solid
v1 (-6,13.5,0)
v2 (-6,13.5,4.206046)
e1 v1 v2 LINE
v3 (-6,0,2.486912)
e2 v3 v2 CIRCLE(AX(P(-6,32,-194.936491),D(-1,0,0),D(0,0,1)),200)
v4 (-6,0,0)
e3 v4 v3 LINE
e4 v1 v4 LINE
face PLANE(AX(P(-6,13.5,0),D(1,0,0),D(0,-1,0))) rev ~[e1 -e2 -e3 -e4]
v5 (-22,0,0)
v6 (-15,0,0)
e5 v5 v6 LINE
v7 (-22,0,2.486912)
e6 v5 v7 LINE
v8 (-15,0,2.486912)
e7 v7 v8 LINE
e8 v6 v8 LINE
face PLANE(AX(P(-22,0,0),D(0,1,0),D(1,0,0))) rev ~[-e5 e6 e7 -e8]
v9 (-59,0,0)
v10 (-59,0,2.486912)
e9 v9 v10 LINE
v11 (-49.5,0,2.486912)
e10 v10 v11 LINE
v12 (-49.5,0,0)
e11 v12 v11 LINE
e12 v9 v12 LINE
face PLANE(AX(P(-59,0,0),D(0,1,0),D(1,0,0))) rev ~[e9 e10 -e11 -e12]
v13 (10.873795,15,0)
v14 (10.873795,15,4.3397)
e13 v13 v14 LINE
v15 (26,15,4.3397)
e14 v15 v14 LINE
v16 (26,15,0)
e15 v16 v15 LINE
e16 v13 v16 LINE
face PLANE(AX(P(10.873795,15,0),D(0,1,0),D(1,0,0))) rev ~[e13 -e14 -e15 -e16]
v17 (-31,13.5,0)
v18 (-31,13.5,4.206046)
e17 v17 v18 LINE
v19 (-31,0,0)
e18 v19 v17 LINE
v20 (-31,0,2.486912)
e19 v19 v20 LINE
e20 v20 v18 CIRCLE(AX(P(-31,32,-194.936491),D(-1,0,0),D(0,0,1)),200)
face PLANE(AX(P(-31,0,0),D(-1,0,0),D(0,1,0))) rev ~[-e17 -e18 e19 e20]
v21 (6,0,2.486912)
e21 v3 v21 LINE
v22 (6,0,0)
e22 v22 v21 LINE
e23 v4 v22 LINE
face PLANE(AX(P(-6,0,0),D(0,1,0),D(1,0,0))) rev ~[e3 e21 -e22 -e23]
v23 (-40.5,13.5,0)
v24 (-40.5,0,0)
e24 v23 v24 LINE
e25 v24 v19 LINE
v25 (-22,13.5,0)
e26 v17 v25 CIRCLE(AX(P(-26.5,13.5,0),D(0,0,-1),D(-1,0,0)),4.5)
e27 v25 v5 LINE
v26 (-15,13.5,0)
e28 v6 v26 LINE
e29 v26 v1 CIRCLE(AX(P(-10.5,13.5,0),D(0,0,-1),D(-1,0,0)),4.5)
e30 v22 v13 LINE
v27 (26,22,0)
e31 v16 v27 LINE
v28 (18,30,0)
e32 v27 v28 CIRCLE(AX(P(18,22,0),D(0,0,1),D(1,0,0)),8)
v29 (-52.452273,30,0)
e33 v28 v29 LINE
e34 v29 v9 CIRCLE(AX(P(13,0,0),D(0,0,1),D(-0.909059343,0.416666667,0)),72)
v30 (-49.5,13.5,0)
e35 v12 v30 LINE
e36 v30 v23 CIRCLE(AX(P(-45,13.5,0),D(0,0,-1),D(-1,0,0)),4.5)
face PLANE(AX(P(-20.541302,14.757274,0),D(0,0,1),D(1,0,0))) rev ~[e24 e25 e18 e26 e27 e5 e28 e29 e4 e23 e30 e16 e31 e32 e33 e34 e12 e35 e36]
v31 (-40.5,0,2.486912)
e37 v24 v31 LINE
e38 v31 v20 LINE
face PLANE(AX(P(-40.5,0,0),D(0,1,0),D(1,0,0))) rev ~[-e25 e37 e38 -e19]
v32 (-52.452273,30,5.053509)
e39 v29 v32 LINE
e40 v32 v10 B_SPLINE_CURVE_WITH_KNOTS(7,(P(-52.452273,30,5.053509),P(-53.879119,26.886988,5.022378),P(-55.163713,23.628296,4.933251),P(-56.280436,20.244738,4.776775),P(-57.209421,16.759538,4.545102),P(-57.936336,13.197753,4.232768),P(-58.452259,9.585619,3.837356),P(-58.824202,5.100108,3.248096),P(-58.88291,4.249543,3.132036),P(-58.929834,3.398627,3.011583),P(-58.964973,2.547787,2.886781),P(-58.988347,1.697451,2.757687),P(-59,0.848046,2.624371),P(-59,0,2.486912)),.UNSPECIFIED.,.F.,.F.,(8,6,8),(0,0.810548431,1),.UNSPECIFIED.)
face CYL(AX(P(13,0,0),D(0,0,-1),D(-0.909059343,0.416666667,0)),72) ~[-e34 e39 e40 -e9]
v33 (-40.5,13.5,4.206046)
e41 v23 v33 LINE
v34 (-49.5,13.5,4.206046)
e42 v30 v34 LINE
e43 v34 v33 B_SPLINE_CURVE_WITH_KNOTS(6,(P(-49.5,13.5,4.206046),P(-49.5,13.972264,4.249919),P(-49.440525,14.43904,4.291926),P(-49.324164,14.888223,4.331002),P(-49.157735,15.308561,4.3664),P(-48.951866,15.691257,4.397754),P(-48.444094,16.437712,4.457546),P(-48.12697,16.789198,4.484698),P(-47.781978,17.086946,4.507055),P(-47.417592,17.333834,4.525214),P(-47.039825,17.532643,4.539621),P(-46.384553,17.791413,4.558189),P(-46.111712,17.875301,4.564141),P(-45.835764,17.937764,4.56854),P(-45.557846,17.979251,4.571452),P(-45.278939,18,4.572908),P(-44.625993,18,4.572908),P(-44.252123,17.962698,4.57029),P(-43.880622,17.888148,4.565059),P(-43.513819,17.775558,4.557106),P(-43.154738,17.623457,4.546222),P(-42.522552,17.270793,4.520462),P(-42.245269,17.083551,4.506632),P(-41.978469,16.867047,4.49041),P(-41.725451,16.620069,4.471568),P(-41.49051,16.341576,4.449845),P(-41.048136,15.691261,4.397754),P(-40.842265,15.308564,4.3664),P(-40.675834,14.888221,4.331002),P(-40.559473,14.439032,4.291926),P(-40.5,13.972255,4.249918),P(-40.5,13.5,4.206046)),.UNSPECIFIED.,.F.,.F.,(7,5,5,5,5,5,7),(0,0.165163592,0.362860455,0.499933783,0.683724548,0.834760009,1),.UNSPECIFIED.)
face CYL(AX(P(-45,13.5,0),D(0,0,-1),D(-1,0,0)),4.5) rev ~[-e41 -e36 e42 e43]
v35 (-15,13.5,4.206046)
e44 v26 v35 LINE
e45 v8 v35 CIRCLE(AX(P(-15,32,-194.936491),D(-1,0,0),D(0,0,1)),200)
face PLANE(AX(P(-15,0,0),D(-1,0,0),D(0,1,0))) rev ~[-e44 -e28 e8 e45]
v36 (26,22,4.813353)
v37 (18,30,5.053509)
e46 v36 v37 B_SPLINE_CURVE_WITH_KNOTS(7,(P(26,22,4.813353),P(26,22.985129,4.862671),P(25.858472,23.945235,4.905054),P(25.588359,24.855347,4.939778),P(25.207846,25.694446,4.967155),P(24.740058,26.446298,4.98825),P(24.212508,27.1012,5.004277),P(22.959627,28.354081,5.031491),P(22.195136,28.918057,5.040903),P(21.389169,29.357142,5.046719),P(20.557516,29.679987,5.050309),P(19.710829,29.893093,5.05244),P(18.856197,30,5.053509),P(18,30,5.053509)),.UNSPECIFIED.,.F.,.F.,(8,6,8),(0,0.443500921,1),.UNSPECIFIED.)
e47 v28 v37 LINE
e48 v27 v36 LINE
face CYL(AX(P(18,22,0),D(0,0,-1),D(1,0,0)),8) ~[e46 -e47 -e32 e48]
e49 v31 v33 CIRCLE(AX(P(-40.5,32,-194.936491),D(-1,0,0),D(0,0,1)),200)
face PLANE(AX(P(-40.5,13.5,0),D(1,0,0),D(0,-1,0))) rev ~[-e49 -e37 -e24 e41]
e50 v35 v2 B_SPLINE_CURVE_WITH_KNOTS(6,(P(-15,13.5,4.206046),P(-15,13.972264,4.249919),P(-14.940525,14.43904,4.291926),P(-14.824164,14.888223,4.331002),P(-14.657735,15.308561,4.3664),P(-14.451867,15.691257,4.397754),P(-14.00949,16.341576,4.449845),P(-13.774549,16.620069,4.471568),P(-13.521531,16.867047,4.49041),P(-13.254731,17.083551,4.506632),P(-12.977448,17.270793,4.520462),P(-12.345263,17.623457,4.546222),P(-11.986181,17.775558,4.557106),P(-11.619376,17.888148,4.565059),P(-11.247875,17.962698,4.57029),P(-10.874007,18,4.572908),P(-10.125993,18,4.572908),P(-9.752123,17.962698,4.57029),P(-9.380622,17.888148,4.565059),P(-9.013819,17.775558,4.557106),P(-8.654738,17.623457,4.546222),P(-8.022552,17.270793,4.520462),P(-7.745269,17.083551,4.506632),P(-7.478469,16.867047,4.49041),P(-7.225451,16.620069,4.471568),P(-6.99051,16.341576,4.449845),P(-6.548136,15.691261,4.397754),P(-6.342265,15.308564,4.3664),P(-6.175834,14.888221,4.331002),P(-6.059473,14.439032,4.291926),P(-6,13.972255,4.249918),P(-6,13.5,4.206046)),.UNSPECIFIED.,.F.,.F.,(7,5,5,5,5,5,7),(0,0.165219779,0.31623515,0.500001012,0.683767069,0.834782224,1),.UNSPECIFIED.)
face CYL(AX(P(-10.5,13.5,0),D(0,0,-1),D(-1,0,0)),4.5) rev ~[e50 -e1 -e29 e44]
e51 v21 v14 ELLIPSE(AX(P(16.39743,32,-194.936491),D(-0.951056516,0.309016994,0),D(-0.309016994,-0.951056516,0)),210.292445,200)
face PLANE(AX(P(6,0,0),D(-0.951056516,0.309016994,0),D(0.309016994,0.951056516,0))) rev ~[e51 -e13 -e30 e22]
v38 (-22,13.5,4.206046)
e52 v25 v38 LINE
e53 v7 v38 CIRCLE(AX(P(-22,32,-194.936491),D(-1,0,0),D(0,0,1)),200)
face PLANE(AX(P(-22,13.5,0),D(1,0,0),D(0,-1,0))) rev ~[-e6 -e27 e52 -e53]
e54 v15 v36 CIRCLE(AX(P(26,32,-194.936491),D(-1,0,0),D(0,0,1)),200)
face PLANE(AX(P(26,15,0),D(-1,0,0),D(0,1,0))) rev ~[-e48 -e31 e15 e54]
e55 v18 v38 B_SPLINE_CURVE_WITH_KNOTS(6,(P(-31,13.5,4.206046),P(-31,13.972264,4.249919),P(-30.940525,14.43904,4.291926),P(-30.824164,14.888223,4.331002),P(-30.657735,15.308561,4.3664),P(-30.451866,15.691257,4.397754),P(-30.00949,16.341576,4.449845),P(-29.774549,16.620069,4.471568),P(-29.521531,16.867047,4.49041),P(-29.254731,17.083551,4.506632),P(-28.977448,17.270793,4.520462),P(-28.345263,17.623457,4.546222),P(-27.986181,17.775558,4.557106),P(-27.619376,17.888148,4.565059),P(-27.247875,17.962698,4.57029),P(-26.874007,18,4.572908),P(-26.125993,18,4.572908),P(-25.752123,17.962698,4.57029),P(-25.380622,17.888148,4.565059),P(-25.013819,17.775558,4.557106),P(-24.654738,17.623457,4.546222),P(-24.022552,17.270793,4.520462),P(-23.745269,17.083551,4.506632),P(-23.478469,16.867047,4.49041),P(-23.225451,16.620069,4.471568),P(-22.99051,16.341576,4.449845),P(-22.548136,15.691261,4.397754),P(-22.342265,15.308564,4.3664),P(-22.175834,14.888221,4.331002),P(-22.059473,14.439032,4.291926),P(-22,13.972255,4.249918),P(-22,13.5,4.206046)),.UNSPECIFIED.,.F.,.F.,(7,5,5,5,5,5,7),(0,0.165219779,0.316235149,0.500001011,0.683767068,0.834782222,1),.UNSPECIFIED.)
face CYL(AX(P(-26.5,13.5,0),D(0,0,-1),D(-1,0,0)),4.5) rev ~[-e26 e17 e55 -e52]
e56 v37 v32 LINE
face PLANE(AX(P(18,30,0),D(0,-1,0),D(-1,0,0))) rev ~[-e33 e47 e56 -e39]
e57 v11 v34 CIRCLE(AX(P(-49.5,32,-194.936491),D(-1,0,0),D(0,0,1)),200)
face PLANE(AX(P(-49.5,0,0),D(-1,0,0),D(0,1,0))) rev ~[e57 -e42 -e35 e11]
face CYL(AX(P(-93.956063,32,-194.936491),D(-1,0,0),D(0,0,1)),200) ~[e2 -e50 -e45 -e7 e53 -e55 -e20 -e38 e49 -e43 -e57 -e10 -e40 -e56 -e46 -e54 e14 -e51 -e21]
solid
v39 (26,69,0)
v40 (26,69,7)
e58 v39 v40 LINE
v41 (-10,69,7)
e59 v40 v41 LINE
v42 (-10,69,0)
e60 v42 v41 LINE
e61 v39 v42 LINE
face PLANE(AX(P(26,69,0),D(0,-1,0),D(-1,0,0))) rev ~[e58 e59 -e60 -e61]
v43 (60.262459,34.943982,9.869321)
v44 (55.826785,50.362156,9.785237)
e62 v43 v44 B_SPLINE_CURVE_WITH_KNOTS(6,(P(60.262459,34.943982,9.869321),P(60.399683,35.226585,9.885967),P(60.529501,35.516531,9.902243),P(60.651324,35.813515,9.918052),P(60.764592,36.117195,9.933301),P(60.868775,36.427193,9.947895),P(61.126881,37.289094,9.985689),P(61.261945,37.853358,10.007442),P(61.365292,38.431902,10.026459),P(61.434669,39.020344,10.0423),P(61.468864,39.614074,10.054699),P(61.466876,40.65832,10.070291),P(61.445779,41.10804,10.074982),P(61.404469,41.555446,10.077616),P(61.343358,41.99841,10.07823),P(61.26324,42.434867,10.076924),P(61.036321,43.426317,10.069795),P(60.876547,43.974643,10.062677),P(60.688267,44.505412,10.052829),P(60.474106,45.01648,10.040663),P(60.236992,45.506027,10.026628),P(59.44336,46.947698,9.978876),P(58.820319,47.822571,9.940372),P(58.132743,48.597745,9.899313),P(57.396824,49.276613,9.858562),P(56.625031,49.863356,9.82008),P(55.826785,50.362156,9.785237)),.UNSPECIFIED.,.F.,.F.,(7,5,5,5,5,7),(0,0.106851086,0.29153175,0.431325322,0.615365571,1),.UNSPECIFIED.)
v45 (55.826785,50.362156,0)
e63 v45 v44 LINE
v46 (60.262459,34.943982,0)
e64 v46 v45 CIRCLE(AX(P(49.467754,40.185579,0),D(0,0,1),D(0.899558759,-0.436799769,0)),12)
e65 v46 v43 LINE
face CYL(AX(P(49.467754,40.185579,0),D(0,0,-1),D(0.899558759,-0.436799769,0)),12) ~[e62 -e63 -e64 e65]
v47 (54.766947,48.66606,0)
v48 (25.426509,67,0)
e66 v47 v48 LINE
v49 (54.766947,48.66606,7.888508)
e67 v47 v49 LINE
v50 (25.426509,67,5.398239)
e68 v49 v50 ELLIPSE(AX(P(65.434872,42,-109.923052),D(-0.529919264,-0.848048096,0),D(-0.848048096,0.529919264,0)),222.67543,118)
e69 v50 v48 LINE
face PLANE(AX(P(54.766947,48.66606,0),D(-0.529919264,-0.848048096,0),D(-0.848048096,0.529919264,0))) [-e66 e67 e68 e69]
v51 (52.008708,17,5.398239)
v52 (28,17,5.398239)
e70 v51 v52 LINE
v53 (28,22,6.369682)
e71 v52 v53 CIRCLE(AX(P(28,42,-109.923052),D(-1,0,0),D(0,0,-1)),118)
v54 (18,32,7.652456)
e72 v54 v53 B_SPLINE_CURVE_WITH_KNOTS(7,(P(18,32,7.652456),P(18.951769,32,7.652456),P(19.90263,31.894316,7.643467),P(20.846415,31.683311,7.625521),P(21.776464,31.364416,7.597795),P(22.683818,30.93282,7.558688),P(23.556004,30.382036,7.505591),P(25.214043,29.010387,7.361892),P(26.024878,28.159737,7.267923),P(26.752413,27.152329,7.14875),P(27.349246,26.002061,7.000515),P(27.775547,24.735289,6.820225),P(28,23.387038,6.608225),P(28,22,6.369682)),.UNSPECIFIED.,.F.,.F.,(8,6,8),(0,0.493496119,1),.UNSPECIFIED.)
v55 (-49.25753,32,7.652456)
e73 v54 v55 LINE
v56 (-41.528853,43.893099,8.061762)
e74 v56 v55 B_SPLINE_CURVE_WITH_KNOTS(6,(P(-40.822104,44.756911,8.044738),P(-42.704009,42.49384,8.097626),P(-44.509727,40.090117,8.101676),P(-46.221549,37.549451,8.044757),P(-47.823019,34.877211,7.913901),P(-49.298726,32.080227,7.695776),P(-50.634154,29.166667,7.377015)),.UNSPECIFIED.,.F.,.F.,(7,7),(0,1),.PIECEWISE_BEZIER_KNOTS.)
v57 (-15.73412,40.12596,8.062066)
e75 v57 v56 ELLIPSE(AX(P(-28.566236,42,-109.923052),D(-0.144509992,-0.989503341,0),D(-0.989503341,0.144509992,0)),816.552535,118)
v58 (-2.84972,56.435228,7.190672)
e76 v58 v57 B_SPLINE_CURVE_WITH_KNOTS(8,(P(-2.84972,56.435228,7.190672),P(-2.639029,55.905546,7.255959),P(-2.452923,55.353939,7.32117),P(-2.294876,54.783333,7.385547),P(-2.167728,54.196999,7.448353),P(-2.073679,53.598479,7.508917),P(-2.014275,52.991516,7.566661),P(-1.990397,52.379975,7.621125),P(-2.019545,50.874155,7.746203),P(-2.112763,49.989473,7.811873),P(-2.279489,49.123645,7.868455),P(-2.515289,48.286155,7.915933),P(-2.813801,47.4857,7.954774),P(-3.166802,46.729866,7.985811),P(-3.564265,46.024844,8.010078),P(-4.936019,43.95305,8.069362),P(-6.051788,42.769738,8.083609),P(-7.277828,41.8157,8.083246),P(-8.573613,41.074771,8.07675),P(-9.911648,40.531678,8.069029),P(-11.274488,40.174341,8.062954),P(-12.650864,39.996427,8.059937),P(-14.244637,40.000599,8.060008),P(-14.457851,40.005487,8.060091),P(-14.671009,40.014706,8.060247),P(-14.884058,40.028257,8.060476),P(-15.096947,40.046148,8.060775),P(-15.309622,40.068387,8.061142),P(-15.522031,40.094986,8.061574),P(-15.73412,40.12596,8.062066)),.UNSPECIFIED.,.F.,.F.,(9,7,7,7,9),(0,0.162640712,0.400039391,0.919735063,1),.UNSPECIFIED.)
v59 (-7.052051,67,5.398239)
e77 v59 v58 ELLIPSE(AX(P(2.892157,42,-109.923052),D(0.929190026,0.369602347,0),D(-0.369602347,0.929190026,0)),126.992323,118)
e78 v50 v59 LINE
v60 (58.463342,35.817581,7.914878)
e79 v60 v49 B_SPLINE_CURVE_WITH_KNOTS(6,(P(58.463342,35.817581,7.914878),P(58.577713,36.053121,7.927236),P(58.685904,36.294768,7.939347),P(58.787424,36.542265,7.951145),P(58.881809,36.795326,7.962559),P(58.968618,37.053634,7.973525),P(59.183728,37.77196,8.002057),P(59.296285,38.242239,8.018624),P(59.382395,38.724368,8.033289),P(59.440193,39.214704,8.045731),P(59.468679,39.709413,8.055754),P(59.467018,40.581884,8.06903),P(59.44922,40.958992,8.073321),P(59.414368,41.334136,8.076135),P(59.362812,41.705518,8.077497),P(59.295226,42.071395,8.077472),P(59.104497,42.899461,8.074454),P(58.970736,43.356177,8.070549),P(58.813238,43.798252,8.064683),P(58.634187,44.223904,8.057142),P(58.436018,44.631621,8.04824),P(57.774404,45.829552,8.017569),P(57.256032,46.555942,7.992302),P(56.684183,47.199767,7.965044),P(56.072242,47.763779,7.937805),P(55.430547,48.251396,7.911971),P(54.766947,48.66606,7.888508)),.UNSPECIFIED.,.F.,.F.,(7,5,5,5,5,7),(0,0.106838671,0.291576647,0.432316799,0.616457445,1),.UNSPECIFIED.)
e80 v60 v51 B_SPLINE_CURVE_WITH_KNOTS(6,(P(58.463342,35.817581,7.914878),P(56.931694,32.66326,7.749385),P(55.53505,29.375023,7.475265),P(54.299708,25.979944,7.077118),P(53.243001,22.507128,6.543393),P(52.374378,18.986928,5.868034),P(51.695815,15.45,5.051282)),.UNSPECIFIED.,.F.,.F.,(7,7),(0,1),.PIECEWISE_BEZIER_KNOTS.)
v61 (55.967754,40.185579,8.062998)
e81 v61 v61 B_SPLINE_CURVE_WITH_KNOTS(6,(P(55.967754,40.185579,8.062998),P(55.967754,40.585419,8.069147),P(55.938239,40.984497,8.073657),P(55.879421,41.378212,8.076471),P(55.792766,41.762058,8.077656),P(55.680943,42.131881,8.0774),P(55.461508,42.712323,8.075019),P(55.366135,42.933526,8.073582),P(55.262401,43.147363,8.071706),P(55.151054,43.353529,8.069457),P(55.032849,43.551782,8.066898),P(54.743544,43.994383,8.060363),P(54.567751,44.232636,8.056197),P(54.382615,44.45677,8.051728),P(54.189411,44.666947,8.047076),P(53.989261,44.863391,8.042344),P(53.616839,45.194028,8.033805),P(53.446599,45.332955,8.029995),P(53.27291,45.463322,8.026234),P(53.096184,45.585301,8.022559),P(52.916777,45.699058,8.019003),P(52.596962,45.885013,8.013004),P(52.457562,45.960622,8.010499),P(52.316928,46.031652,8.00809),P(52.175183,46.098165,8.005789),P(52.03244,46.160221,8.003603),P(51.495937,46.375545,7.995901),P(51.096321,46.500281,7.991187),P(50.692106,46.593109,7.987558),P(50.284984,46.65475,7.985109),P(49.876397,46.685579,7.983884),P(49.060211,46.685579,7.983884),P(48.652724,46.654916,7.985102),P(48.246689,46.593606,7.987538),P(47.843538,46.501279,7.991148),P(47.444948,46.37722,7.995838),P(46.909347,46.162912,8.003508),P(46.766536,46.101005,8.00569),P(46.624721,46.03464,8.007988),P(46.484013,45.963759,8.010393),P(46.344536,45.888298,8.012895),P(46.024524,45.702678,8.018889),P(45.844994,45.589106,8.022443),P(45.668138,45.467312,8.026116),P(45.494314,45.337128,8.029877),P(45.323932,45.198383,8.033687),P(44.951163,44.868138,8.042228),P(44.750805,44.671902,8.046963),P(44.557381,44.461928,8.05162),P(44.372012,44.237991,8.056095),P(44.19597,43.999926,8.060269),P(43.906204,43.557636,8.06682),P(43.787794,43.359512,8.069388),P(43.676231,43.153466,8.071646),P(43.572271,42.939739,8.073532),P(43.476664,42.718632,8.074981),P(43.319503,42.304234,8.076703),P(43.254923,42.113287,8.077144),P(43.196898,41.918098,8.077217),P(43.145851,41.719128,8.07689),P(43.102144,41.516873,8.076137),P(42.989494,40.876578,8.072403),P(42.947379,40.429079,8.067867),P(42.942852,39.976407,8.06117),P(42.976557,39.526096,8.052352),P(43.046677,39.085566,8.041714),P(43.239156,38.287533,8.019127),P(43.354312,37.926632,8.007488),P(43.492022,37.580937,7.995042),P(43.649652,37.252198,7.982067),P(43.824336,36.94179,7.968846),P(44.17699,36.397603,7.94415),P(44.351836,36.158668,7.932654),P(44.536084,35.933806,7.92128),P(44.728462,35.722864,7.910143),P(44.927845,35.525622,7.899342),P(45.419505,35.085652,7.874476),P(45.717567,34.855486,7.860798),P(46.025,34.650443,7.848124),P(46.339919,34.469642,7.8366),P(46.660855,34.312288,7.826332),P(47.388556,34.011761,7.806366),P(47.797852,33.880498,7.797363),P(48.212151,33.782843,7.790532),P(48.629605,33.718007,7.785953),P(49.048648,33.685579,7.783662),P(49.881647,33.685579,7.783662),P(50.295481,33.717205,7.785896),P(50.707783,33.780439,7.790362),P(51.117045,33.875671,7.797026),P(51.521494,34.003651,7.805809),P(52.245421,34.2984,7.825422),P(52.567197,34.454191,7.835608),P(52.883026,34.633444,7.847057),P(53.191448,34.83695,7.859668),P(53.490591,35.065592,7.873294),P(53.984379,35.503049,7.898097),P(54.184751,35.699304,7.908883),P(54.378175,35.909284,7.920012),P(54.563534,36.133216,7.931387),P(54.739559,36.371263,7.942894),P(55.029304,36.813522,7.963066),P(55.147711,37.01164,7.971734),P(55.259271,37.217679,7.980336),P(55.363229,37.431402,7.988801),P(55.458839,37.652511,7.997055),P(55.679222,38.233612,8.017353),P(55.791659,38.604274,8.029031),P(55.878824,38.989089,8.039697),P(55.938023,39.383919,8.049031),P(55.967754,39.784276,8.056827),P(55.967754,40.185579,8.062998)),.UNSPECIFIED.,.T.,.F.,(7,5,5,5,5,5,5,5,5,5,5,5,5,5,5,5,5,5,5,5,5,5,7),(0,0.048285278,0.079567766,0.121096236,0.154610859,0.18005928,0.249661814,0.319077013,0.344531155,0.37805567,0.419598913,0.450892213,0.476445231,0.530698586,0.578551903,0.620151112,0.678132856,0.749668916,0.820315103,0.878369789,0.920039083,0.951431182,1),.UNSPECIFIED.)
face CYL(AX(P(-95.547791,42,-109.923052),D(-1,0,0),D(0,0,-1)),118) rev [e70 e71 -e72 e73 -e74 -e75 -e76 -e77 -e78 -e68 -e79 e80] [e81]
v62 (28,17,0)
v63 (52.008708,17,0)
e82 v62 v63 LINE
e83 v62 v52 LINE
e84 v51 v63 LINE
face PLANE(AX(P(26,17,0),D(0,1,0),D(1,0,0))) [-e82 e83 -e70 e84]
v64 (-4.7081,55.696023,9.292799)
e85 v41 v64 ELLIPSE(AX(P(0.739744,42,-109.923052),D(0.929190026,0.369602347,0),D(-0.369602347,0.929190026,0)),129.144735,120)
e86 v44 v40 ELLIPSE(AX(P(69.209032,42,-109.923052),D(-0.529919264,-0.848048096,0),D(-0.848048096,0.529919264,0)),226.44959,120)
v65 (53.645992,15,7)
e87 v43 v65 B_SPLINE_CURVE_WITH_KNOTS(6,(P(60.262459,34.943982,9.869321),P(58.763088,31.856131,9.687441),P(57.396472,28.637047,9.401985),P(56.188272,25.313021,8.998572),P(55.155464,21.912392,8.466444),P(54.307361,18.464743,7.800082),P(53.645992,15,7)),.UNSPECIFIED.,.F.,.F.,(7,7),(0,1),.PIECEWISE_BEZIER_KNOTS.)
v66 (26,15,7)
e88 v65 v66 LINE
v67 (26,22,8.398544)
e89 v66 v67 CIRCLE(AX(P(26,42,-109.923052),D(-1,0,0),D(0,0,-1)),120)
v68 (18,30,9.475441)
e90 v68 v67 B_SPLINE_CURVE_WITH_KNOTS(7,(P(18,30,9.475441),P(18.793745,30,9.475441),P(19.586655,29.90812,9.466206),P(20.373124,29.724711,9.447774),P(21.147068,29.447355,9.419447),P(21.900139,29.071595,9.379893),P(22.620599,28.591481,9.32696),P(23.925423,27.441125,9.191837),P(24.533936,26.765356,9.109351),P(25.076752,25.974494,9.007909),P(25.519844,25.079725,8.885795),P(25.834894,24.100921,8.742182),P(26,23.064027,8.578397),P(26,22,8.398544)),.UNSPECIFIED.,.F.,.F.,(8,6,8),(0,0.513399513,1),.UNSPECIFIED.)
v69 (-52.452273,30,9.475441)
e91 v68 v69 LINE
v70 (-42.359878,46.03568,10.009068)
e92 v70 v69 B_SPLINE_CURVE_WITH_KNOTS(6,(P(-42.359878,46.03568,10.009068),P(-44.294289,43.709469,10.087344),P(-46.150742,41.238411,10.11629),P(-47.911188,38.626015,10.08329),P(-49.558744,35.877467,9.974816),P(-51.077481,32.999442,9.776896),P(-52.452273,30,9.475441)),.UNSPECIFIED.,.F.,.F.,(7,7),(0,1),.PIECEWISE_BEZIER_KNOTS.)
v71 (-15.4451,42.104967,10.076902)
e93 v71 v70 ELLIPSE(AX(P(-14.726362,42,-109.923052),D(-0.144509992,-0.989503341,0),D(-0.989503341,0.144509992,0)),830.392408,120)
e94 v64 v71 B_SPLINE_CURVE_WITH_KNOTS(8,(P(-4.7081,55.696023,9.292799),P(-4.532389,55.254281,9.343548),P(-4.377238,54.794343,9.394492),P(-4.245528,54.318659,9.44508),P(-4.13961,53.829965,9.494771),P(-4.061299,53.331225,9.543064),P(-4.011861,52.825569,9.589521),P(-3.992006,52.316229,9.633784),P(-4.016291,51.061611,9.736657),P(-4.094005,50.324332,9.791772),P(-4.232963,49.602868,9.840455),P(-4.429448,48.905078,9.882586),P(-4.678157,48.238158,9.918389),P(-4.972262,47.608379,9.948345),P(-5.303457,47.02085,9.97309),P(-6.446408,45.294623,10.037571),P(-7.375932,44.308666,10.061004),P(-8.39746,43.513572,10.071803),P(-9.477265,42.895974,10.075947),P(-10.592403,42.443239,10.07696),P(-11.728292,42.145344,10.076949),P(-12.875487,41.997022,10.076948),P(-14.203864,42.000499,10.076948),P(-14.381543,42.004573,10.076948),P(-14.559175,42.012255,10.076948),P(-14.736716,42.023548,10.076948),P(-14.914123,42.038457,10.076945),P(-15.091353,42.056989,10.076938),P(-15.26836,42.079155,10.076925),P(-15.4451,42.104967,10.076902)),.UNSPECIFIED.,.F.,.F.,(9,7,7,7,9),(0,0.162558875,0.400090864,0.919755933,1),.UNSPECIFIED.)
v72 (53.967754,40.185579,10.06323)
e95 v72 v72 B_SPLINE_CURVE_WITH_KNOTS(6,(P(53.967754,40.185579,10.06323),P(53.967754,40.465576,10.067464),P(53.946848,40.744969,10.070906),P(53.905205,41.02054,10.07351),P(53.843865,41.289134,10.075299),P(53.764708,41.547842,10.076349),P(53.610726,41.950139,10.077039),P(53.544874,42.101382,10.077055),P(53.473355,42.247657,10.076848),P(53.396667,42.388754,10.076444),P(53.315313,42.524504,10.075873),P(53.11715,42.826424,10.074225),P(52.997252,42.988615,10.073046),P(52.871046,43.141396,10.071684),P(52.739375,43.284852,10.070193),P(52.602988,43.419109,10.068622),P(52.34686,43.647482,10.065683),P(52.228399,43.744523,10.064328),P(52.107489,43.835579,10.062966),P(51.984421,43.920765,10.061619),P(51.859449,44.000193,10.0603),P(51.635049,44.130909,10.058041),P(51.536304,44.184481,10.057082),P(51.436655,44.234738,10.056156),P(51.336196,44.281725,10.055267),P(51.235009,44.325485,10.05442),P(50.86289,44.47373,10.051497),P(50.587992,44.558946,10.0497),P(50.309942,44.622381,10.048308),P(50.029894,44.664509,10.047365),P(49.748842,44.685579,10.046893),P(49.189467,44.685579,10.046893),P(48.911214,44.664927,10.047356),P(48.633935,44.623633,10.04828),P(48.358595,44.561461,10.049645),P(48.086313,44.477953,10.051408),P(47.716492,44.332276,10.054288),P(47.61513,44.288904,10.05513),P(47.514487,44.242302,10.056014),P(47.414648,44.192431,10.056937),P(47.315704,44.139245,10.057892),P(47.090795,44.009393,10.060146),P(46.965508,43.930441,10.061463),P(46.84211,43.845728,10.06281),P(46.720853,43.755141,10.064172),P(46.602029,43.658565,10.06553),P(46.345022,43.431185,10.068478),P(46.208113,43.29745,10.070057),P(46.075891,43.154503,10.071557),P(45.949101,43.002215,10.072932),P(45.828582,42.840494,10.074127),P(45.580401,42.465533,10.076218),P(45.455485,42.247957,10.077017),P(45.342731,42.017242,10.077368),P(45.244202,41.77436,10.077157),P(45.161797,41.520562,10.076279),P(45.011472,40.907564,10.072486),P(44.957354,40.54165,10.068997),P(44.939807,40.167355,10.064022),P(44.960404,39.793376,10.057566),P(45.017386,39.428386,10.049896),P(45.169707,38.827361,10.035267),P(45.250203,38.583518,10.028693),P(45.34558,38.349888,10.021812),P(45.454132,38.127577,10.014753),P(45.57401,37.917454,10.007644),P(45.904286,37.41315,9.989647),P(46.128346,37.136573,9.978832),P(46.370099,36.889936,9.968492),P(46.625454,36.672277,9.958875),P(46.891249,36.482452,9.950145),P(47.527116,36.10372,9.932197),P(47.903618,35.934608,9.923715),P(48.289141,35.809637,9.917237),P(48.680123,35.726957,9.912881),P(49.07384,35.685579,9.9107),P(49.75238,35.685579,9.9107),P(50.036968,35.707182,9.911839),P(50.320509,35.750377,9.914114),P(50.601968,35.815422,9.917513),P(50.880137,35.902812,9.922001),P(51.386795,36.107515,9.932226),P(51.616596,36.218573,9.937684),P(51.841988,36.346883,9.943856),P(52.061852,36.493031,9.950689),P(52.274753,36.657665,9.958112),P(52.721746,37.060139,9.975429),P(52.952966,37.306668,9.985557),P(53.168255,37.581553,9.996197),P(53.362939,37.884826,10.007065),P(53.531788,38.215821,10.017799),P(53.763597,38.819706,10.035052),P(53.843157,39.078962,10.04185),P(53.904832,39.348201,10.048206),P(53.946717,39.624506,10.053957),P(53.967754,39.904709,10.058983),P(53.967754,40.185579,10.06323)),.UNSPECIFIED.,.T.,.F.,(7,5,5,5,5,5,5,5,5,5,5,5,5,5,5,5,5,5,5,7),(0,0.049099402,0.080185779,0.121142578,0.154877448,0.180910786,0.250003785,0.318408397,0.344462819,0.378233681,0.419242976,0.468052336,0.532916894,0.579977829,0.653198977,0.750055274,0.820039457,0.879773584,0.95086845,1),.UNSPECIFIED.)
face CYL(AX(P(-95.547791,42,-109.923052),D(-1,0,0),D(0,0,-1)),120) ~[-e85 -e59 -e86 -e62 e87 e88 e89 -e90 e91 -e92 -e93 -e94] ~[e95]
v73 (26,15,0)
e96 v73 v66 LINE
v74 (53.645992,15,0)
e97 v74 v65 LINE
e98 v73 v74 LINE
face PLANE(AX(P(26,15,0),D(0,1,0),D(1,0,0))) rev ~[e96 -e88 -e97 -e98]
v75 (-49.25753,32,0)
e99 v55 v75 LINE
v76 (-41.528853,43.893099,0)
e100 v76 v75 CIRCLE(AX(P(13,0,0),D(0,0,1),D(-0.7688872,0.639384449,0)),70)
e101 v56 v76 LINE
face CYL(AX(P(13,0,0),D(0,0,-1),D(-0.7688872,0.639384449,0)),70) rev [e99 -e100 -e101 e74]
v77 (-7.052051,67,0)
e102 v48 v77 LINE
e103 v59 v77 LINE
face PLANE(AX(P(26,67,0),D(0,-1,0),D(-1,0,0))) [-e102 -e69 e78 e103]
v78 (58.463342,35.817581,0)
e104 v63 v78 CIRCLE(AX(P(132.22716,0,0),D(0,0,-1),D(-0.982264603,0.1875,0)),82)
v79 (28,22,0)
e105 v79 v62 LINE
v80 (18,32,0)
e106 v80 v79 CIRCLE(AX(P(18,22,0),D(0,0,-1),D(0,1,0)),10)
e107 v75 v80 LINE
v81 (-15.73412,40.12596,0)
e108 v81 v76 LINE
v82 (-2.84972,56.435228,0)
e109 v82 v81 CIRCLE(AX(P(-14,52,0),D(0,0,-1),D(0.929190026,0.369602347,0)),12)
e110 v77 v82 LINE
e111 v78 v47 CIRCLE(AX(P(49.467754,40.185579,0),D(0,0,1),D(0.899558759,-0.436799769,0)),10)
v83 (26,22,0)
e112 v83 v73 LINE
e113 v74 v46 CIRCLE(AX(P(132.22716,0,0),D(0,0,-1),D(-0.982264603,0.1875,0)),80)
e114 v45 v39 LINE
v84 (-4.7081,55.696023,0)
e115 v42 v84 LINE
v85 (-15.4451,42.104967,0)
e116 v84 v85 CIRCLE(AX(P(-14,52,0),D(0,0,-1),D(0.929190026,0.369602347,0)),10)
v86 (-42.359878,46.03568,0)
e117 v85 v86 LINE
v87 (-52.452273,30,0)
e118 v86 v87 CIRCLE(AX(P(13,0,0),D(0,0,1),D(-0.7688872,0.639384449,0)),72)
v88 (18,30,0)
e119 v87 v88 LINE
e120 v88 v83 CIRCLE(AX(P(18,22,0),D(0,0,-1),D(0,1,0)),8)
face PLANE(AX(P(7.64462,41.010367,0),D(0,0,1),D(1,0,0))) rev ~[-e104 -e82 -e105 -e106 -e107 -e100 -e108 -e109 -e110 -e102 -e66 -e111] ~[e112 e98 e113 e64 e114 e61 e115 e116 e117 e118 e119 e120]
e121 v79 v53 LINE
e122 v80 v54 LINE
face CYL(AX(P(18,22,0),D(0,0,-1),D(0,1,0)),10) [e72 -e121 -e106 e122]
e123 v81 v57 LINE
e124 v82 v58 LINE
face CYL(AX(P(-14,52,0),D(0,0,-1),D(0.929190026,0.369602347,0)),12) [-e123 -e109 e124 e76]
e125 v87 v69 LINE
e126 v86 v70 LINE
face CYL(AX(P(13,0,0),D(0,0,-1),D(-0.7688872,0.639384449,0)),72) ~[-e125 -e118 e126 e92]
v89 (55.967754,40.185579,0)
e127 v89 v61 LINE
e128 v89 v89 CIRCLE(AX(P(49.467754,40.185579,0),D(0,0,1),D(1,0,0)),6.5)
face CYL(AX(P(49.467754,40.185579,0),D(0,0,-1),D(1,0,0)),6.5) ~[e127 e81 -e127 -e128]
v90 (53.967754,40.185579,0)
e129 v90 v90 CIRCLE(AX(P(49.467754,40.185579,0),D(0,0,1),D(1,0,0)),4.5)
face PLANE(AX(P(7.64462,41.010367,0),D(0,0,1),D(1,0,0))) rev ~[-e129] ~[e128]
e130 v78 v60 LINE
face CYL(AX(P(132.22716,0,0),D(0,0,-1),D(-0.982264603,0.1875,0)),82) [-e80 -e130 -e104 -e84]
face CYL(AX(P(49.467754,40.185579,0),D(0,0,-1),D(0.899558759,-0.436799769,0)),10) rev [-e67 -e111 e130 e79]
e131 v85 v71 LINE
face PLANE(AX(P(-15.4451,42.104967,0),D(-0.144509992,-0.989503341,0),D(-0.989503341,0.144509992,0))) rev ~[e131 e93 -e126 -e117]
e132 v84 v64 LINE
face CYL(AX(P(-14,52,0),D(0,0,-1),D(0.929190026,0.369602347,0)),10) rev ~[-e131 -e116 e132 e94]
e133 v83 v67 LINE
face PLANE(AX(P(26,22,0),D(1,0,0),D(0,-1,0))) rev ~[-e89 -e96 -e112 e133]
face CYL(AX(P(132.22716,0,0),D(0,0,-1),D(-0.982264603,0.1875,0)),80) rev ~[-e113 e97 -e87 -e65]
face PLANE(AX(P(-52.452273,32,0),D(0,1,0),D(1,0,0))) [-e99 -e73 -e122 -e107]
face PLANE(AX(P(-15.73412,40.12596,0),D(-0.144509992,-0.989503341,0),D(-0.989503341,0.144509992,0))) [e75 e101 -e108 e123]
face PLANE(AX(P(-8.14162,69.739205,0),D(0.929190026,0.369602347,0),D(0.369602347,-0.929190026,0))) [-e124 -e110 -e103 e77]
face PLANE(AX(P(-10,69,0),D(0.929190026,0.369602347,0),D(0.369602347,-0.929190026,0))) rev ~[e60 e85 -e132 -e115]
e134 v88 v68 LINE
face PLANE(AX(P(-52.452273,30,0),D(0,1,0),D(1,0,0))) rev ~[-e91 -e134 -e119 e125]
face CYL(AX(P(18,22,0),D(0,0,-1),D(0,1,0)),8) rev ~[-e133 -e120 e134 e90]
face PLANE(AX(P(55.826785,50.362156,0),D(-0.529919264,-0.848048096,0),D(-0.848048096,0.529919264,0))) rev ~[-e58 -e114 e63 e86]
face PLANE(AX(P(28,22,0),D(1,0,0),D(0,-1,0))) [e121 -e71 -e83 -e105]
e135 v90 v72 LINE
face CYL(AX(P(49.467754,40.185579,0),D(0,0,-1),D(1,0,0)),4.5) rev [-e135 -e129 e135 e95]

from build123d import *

# Parameters (mm, degrees)
SKETCH_1_R               = 4.5
EXTRUDE_1_DEPTH          = 20
CUT_EXTRUDE_1_DEPTH      = 95.547791144
CUT_EXTRUDE_1_DEPTH_BACK = 95.547791144
SKETCH_2_OUTSIDE_W       = 47.53
SKETCH_2_OUTSIDE_H       = 81.53
SKETCH_2_OUTSIDE_R       = 120
SHELL_1_T                = -2
EXTRUDE_2_DEPTH          = 10
CUT_EXTRUDE_3_DEPTH      = 93.956063424
CUT_EXTRUDE_3_DEPTH_BACK = 93.956063424


with BuildPart() as part:
    # 草图1 → 凸台-拉伸1 (new body)
    with BuildSketch(Plane.XY):
        with BuildLine():
            Line((-15.445099917, 42.104966588), (-42.359878376, 46.03568036))
            ThreePointArc((-42.359878376, 46.03568036), (-47.935865648, 38.351274786), (-52.452272688, 30))
            Line((-52.452272688, 30), (18, 30))
            ThreePointArc((18, 30), (23.656854249, 27.656854249), (26, 22))
            Line((26, 22), (26, 15))
            Line((26, 15), (53.645991862, 15))
            ThreePointArc((53.645991862, 15), (56.296565029, 25.190171372), (60.262459343, 34.94398155))
            ThreePointArc((60.262459343, 34.94398155), (61, 43.503305042), (55.826785402, 50.362155936))
            Line((55.826785402, 50.362155936), (26, 69))
            Line((26, 69), (-10, 69))
            Line((-10, 69), (-4.708099735, 55.696023467))
            ThreePointArc((-4.708099735, 55.696023467), (-6.153199652, 45.800990055), (-15.445099917, 42.104966588))
        make_face()
        with Locations((49.467754231, 40.185578782)):
            Circle(SKETCH_1_R, mode=Mode.SUBTRACT)
    extrude(amount=EXTRUDE_1_DEPTH)

    # 草图2 outside → 切除-拉伸1 (cut, two sides: drawn at the far end of the back side and taken through both)
    with BuildSketch(Plane(origin=(0, 0, 0), x_dir=(0, 0, -1), z_dir=(1, 0, 0)).offset(-CUT_EXTRUDE_1_DEPTH_BACK)):
        with Locations((-10, 42)):
            Rectangle(SKETCH_2_OUTSIDE_W, SKETCH_2_OUTSIDE_H)
        with Locations((109.923051619, 42)):
            Circle(SKETCH_2_OUTSIDE_R, mode=Mode.SUBTRACT)
    extrude(amount=CUT_EXTRUDE_1_DEPTH + CUT_EXTRUDE_1_DEPTH_BACK, mode=Mode.SUBTRACT)

    # 抽壳1
    shell_1_openings = [part.faces().sort_by_distance(p)[0] for p in [
        (15.88368629, 42.212588419, 0),
    ]]
    offset(amount=SHELL_1_T, openings=shell_1_openings)


with BuildPart() as body_2:
    # 草图1<3> → 凸台-拉伸2 (new body)
    with BuildSketch(Plane.XY):
        with BuildLine():
            Line((18, 30), (-52.452272688, 30))
            ThreePointArc((-52.452272688, 30), (-57.344024741, 15.353116402), (-59, 0))
            Line((-59, 0), (-49.5, 0))
            Line((-49.5, 0), (-49.5, 13.5))
            ThreePointArc((-49.5, 13.5), (-45, 18), (-40.5, 13.5))
            Line((-40.5, 13.5), (-40.5, 0))
            Line((-40.5, 0), (-31, 0))
            Line((-31, 0), (-31, 13.5))
            ThreePointArc((-31, 13.5), (-26.5, 18), (-22, 13.5))
            Line((-22, 13.5), (-22, 0))
            Line((-22, 0), (-15, 0))
            Line((-15, 0), (-15, 13.5))
            ThreePointArc((-15, 13.5), (-10.5, 18), (-6, 13.5))
            Line((-6, 13.5), (-6, 0))
            Line((-6, 0), (6, 0))
            Line((6, 0), (10.873795443, 15))
            Line((10.873795443, 15), (26, 15))
            Line((26, 15), (26, 22))
            ThreePointArc((26, 22), (23.656854249, 27.656854249), (18, 30))
        make_face()
    extrude(amount=EXTRUDE_2_DEPTH)

    # 草图3 → 切除-拉伸3 (cut, two sides: drawn at the far end of the back side and taken through both)
    with BuildSketch(Plane(origin=(0, 0, 0), x_dir=(0, 0, -1), z_dir=(1, 0, 0)).offset(-CUT_EXTRUDE_3_DEPTH_BACK)):
        with BuildLine():
            Line((-5.063509484, 180.832397695), (-5.063509484, 32))
            ThreePointArc((-5.063509484, 32), (-4.418319525, 15.948217756), (-2.486912352, 0))
            Line((-2.486912352, 0), (21.326271279, -146.914992049))
            Line((21.326271279, -146.914992049), (-275.378272425, -170.805244435))
            Line((-275.378272425, -170.805244435), (-301.768053188, 156.942145309))
            Line((-301.768053188, 156.942145309), (-5.063509484, 180.832397695))
        make_face()
    extrude(amount=CUT_EXTRUDE_3_DEPTH + CUT_EXTRUDE_3_DEPTH_BACK, mode=Mode.SUBTRACT)


solid = Compound([part.part, body_2.part])
